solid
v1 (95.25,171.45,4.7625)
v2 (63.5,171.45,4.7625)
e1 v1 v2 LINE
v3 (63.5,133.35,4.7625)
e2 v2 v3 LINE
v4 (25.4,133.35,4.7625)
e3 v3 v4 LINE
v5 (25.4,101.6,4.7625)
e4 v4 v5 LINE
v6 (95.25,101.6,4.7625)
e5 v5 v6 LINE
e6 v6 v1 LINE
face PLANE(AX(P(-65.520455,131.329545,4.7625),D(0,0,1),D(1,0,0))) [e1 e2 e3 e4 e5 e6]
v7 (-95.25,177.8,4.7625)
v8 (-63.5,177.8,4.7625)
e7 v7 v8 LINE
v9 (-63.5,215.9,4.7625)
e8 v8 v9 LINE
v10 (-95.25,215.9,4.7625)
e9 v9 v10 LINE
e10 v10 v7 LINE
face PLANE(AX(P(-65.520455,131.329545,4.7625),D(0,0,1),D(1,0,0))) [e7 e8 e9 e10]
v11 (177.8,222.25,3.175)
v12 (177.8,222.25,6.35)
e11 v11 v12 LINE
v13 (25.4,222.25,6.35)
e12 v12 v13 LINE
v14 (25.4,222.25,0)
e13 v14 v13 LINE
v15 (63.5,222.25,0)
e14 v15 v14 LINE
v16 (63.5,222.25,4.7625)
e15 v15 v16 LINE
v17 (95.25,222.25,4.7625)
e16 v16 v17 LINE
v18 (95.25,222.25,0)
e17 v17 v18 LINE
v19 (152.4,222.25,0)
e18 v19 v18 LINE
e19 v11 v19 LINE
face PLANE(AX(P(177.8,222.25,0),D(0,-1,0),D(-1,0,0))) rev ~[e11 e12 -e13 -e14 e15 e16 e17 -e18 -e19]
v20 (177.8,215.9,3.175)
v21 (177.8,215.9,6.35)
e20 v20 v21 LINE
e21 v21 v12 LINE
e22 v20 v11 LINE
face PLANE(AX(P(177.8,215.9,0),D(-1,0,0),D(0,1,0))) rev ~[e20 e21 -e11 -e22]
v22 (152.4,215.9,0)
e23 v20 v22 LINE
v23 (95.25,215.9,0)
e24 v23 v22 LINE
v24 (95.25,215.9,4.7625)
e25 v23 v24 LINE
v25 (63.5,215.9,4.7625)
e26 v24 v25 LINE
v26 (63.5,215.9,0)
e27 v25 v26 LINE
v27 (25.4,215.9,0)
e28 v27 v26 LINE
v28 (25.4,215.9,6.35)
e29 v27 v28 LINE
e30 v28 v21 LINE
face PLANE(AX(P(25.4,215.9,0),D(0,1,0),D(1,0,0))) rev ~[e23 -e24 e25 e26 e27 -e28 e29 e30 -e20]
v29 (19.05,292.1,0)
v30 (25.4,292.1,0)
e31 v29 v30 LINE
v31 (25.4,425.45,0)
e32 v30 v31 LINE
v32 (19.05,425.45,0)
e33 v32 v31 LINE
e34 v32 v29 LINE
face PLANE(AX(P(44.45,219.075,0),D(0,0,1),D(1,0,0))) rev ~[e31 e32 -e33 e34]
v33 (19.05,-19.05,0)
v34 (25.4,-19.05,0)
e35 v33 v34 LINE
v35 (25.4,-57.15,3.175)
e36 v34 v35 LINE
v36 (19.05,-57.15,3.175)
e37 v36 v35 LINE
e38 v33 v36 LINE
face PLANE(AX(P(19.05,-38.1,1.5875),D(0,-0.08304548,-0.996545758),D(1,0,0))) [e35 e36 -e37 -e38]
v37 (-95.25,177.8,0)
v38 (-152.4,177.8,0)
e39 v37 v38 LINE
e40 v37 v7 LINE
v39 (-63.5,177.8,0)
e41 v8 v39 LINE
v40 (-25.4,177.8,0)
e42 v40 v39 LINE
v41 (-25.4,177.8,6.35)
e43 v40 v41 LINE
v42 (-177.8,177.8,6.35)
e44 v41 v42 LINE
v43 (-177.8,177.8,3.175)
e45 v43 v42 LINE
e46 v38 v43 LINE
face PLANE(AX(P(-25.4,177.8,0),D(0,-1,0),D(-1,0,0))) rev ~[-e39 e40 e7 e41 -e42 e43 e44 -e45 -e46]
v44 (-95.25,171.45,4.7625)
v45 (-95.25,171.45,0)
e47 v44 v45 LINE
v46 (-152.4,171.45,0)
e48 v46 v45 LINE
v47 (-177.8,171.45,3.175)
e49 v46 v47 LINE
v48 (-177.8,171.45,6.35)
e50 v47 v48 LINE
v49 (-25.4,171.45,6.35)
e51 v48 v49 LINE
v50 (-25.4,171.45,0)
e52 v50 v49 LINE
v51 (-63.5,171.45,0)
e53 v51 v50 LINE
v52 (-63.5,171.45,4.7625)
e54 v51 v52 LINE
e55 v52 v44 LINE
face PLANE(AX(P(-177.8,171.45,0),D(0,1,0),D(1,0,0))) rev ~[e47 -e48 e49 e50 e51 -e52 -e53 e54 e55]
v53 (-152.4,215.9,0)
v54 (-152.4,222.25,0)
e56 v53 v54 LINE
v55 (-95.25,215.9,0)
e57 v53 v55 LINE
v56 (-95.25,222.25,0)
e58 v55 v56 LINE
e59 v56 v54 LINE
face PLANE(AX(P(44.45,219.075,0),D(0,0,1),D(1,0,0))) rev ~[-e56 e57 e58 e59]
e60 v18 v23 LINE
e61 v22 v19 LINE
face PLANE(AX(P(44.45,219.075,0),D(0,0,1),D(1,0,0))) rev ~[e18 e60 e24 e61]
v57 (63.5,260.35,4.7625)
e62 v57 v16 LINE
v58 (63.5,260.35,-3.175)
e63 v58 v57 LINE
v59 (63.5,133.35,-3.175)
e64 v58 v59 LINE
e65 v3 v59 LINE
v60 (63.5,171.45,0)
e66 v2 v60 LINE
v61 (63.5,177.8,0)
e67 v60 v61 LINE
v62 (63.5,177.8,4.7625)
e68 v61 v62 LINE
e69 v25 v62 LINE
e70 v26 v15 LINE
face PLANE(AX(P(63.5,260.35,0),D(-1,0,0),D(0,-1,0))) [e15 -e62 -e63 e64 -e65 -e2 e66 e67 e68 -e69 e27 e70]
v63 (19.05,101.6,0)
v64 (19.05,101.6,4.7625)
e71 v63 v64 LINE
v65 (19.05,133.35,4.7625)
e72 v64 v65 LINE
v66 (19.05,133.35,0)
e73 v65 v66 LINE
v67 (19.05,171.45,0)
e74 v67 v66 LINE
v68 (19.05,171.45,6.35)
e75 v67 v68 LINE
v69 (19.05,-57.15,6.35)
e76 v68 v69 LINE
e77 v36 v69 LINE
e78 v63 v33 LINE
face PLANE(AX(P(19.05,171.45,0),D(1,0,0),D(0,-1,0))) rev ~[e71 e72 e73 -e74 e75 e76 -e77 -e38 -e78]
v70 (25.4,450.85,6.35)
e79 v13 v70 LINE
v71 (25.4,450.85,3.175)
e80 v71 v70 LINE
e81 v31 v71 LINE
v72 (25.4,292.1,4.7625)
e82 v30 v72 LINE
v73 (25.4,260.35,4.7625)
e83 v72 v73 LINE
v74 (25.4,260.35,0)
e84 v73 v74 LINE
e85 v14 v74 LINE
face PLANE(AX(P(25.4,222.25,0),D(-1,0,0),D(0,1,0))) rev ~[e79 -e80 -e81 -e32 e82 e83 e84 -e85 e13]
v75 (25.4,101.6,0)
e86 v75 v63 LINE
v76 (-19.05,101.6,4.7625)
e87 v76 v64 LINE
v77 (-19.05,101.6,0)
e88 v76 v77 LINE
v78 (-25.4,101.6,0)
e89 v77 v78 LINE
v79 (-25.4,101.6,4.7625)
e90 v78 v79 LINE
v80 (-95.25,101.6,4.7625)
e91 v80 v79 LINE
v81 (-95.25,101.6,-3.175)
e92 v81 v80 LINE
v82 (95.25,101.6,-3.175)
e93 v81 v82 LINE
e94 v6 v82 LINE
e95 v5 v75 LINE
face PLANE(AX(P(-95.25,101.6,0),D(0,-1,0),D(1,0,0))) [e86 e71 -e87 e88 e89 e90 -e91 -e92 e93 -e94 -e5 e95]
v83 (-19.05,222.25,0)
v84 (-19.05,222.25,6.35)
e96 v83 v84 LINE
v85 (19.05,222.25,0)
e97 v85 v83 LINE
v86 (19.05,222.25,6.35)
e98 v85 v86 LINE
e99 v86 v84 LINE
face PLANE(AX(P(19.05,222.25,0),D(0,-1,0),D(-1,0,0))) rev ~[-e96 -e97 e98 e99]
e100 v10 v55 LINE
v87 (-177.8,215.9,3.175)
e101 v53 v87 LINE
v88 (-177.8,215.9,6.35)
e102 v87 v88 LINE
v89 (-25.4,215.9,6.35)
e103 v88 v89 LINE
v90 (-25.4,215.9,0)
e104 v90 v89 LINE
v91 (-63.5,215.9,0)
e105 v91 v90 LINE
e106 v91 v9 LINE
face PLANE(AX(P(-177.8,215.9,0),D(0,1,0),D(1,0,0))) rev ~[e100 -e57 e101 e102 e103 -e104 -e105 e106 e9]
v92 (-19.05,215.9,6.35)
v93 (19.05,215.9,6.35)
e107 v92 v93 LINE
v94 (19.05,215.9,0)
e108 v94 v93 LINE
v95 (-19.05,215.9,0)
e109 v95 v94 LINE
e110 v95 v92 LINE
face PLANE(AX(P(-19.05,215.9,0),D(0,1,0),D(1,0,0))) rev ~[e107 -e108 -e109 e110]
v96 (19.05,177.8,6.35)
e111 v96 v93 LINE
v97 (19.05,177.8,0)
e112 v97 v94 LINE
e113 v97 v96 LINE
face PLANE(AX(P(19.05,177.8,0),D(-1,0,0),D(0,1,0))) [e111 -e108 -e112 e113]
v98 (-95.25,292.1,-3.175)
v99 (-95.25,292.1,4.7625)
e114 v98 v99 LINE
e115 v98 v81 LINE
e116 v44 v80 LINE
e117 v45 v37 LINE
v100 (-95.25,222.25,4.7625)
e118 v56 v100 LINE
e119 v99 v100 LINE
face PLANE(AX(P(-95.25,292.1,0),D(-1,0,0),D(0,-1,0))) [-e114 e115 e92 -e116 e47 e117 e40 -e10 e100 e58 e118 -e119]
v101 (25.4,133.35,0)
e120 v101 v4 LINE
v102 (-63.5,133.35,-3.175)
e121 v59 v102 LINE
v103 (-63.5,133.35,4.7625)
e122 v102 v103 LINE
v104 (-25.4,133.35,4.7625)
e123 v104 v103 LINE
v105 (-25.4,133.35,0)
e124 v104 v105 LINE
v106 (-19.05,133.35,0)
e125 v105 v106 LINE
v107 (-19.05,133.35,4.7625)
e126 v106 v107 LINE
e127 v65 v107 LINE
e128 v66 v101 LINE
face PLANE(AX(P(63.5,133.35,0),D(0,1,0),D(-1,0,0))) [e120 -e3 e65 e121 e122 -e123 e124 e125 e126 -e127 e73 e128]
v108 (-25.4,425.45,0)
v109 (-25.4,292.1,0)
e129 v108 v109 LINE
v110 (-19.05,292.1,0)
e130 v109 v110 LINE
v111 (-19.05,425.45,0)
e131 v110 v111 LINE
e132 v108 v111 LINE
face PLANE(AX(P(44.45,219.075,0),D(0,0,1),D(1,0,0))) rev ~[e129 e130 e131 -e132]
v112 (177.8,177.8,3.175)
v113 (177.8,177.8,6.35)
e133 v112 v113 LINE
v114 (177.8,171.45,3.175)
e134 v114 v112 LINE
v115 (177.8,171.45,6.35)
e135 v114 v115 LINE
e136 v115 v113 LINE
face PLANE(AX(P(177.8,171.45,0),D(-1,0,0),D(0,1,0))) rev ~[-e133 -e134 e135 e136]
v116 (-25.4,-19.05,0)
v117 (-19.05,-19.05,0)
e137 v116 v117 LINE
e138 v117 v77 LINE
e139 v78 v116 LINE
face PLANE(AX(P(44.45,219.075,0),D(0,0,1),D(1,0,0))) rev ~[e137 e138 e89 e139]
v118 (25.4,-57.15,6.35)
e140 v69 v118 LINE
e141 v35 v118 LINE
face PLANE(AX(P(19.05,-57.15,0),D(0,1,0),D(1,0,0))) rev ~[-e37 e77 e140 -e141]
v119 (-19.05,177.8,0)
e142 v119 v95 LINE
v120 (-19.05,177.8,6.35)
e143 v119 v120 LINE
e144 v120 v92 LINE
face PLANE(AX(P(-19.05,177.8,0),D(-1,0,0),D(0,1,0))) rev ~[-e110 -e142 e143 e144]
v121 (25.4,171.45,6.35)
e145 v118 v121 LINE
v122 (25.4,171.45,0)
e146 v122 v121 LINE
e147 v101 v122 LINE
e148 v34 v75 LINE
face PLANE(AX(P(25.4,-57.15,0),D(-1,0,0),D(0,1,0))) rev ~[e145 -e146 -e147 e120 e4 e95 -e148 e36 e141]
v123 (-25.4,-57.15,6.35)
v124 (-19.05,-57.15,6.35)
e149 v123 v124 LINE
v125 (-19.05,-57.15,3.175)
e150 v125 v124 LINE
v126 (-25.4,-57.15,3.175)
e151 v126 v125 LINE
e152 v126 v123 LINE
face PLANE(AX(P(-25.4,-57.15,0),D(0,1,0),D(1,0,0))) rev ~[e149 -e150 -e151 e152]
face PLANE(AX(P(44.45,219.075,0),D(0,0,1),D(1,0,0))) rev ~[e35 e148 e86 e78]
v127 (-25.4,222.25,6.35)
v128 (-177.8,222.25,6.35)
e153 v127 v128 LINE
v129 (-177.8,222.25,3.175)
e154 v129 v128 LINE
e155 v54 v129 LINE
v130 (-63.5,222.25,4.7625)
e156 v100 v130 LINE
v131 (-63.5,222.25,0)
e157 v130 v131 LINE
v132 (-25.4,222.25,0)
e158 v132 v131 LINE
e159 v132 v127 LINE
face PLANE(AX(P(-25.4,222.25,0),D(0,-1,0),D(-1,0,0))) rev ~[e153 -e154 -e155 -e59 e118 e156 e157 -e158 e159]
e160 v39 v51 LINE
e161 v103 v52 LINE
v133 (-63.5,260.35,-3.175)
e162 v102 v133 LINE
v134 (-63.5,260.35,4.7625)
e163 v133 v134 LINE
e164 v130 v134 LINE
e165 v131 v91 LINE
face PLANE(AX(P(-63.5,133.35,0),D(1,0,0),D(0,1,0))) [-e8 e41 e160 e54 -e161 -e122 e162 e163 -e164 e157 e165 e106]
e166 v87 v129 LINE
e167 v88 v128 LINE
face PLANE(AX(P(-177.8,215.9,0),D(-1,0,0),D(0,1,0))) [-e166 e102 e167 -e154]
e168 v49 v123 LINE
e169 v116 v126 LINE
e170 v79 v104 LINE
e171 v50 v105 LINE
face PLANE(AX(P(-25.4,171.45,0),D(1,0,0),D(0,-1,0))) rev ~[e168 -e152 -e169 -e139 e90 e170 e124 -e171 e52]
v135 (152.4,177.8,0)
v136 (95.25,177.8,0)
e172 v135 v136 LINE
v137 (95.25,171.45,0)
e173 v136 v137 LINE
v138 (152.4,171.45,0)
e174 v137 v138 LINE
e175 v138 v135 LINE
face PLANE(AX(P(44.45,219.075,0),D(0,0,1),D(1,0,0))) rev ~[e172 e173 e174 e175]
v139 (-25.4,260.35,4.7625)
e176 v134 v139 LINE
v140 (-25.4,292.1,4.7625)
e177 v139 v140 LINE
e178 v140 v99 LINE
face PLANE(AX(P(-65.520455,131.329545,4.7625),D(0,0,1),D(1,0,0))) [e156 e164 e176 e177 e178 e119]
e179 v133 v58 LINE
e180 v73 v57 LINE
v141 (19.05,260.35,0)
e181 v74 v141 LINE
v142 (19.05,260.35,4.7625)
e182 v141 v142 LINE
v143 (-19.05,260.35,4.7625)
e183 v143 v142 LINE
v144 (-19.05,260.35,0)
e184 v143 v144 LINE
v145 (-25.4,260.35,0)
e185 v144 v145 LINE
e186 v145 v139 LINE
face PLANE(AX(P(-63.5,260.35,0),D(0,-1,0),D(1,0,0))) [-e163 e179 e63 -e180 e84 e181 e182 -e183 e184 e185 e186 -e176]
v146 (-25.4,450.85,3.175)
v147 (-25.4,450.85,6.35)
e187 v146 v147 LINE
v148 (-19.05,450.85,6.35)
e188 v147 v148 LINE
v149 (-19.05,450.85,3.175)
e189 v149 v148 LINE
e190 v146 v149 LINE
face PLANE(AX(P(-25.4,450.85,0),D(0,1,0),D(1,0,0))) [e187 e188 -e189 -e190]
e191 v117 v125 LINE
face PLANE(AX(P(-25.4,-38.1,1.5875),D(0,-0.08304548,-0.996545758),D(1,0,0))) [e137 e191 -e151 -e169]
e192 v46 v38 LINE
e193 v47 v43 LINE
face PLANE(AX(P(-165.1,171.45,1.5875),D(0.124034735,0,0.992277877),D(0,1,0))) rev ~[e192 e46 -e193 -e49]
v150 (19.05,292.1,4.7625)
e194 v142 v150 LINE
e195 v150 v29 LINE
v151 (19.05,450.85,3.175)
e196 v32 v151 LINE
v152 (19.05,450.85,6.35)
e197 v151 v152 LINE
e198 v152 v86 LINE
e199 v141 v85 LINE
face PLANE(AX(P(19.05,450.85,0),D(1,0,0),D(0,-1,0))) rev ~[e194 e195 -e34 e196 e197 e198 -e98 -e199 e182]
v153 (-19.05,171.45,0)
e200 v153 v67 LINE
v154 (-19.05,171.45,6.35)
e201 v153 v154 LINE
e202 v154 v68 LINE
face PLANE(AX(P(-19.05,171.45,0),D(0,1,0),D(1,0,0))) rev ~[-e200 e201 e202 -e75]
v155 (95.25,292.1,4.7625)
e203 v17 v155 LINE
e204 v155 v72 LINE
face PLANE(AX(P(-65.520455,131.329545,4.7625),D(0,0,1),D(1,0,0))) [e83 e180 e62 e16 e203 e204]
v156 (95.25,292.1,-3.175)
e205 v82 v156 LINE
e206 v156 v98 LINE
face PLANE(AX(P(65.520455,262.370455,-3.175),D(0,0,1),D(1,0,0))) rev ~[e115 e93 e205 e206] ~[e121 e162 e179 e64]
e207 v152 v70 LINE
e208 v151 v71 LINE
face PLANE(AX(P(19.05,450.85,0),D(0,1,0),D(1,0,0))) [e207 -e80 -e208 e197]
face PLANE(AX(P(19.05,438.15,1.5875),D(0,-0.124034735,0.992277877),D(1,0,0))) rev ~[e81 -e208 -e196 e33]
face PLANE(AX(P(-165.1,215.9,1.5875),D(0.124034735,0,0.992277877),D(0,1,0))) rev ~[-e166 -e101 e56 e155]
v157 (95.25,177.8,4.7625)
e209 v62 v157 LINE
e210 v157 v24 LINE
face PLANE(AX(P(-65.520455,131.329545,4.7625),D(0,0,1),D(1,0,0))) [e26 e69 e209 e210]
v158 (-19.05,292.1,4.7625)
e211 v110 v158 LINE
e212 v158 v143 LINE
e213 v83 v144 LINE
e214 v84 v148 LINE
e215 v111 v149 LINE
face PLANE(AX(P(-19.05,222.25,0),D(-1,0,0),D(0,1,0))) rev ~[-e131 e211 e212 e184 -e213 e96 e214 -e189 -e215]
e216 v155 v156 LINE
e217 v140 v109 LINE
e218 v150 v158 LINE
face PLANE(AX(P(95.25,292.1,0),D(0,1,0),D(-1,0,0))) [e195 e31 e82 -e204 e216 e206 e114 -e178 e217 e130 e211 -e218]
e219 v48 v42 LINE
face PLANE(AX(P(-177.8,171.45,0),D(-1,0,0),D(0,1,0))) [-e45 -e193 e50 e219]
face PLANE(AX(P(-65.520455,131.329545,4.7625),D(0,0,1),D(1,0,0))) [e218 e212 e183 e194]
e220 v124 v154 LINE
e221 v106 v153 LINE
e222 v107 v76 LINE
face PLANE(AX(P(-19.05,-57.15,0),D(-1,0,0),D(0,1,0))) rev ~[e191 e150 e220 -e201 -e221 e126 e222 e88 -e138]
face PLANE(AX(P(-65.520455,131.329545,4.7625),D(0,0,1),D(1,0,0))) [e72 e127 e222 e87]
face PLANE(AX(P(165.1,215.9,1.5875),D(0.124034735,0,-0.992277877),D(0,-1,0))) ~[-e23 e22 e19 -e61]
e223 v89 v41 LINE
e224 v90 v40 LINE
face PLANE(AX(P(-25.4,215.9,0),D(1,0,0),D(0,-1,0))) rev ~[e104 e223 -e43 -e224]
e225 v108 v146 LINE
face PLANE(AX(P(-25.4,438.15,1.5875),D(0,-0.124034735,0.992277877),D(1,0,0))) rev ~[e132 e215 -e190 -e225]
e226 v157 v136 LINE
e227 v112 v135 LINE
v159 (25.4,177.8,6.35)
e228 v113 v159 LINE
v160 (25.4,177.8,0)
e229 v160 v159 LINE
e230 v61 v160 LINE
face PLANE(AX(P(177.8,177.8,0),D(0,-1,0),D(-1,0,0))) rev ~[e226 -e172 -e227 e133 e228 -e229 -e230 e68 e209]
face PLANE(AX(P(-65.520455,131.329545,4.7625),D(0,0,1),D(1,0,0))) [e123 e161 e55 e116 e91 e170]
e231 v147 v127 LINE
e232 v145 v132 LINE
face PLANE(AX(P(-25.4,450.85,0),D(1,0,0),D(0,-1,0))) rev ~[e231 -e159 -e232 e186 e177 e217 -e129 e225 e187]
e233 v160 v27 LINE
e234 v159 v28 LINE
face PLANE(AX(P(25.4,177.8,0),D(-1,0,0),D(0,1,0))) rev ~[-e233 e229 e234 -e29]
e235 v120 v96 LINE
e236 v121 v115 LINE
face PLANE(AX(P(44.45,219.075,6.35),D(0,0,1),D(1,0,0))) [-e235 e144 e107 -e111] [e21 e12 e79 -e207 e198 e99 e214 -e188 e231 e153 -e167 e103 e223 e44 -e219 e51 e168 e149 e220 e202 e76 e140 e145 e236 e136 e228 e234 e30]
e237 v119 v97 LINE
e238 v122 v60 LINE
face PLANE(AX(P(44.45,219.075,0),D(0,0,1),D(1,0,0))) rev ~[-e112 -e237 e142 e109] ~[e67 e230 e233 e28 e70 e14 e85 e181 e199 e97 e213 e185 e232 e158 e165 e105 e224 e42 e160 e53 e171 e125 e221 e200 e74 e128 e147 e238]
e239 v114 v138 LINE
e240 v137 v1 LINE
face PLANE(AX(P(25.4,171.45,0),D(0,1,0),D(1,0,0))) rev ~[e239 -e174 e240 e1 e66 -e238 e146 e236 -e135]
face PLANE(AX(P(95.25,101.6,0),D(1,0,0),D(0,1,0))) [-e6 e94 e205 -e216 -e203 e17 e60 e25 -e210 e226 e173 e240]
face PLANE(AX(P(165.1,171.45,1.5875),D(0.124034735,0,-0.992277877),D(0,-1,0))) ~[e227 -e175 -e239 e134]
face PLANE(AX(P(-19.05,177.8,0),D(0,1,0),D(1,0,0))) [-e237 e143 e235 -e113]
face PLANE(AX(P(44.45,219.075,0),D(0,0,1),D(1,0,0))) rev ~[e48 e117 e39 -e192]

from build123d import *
from OCP.BRepFilletAPI import BRepFilletAPI_MakeChamfer

# Parameters (mm, degrees)
SKETCH1_W           = 31.75
SKETCH1_H           = 38.1
SKETCH1_H_2         = 6.35
SKETCH1_W_2         = 6.35
SKETCH1_H_3         = 31.75
SKETCH1_W_3         = 38.1
BOSS_EXTRUDE1_DEPTH = 4.7625
SKETCH1_4_W         = 6.35
SKETCH1_4_H         = 31.75
SKETCH1_4_W_2       = 38.1
SKETCH1_4_W_3       = 31.75
SKETCH1_4_H_2       = 6.35
SKETCH1_4_H_3       = 38.1
BOSS_EXTRUDE2_DEPTH = 3.175
SKETCH1_5_W         = 38.1
SKETCH1_5_H         = 6.35
SKETCH1_5_W_2       = 63.5
SKETCH1_5_W_3       = 6.35
SKETCH1_5_H_2       = 38.1
SKETCH1_5_W_4       = 19.05
SKETCH1_5_H_3       = 139.7
SKETCH1_5_H_4       = 19.05
SKETCH1_5_H_5       = 158.75
SKETCH1_5_H_6       = 31.75
SKETCH1_5_W_5       = 31.75
BOSS_EXTRUDE3_DEPTH = 6.35
CHAMFER1_SIZE       = 25.4
CHAMFER1_SIZE2      = 3.175
CHAMFER2_SIZE       = 3.175
CHAMFER2_SIZE2      = 25.4
CHAMFER3_SIZE       = 38.1
CHAMFER3_SIZE2      = 3.175


with BuildPart() as part:
    # Sketch1 → Boss-Extrude1 (new body)
    with BuildSketch(Plane.XY):
        Polygon((-63.5, 171.45), (-95.25, 171.45), (-95.25, 101.6), (-25.4, 101.6), (-25.4, 133.35), (-63.5, 133.35), align=None)
        with Locations((-79.375, 196.85)):
            Rectangle(SKETCH1_W, SKETCH1_H)
        with Locations((-79.375, 174.625)):
            Rectangle(SKETCH1_W, SKETCH1_H_2)
        with Locations((-79.375, 219.075)):
            Rectangle(SKETCH1_W, SKETCH1_H_2)
        Polygon((-25.4, 260.35), (-25.4, 292.1), (-95.25, 292.1), (-95.25, 222.25), (-63.5, 222.25), (-63.5, 260.35), align=None)
        with Locations((-22.225, 276.225)):
            Rectangle(SKETCH1_W_2, SKETCH1_H_3)
        with Locations((0, 276.225)):
            Rectangle(SKETCH1_W_3, SKETCH1_H_3)
        with Locations((22.225, 276.225)):
            Rectangle(SKETCH1_W_2, SKETCH1_H_3)
        Polygon((95.25, 292.1), (25.4, 292.1), (25.4, 260.35), (63.5, 260.35), (63.5, 222.25), (95.25, 222.25), align=None)
        with Locations((79.375, 219.075)):
            Rectangle(SKETCH1_W, SKETCH1_H_2)
        with Locations((79.375, 196.85)):
            Rectangle(SKETCH1_W, SKETCH1_H)
        with Locations((79.375, 174.625)):
            Rectangle(SKETCH1_W, SKETCH1_H_2)
        Polygon((95.25, 101.6), (95.25, 171.45), (63.5, 171.45), (63.5, 133.35), (25.4, 133.35), (25.4, 101.6), align=None)
        with Locations((22.225, 117.475)):
            Rectangle(SKETCH1_W_2, SKETCH1_H_3)
        with Locations((0, 117.475)):
            Rectangle(SKETCH1_W_3, SKETCH1_H_3)
        with Locations((-22.225, 117.475)):
            Rectangle(SKETCH1_W_2, SKETCH1_H_3)
    extrude(amount=BOSS_EXTRUDE1_DEPTH)

    # Sketch1<4> → Boss-Extrude2 (add)
    with BuildSketch(Plane.XY):
        Polygon((95.25, 292.1), (25.4, 292.1), (25.4, 260.35), (63.5, 260.35), (63.5, 222.25), (95.25, 222.25), align=None)
        with Locations((22.225, 276.225)):
            Rectangle(SKETCH1_4_W, SKETCH1_4_H)
        with Locations((0, 276.225)):
            Rectangle(SKETCH1_4_W_2, SKETCH1_4_H)
        with Locations((-22.225, 276.225)):
            Rectangle(SKETCH1_4_W, SKETCH1_4_H)
        Polygon((-25.4, 260.35), (-25.4, 292.1), (-95.25, 292.1), (-95.25, 222.25), (-63.5, 222.25), (-63.5, 260.35), align=None)
        with Locations((-79.375, 219.075)):
            Rectangle(SKETCH1_4_W_3, SKETCH1_4_H_2)
        with Locations((-79.375, 196.85)):
            Rectangle(SKETCH1_4_W_3, SKETCH1_4_H_3)
        with Locations((-79.375, 174.625)):
            Rectangle(SKETCH1_4_W_3, SKETCH1_4_H_2)
        Polygon((-63.5, 171.45), (-95.25, 171.45), (-95.25, 101.6), (-25.4, 101.6), (-25.4, 133.35), (-63.5, 133.35), align=None)
        with Locations((-22.225, 117.475)):
            Rectangle(SKETCH1_4_W, SKETCH1_4_H)
        with Locations((0, 117.475)):
            Rectangle(SKETCH1_4_W_2, SKETCH1_4_H)
        Polygon((95.25, 101.6), (95.25, 171.45), (63.5, 171.45), (63.5, 133.35), (25.4, 133.35), (25.4, 101.6), align=None)
        with Locations((22.225, 117.475)):
            Rectangle(SKETCH1_4_W, SKETCH1_4_H)
        with Locations((79.375, 174.625)):
            Rectangle(SKETCH1_4_W_3, SKETCH1_4_H_2)
        with Locations((79.375, 196.85)):
            Rectangle(SKETCH1_4_W_3, SKETCH1_4_H_3)
        with Locations((79.375, 219.075)):
            Rectangle(SKETCH1_4_W_3, SKETCH1_4_H_2)
    extrude(amount=-BOSS_EXTRUDE2_DEPTH)

    # Sketch1<5> → Boss-Extrude3 (add)
    with BuildSketch(Plane.XY):
        with Locations((44.45, 219.075)):
            Rectangle(SKETCH1_5_W, SKETCH1_5_H)
        with Locations((127, 219.075)):
            Rectangle(SKETCH1_5_W_2, SKETCH1_5_H)
        with Locations((22.225, 219.075)):
            Rectangle(SKETCH1_5_W_3, SKETCH1_5_H)
        with Locations((0, 219.075)):
            Rectangle(SKETCH1_5_W, SKETCH1_5_H)
        with Locations((-22.225, 219.075)):
            Rectangle(SKETCH1_5_W_3, SKETCH1_5_H)
        with Locations((-44.45, 219.075)):
            Rectangle(SKETCH1_5_W, SKETCH1_5_H)
        with Locations((-22.225, 241.3)):
            Rectangle(SKETCH1_5_W_3, SKETCH1_5_H_2)
        with Locations((22.225, 241.3)):
            Rectangle(SKETCH1_5_W_3, SKETCH1_5_H_2)
        with Locations((22.225, 196.85)):
            Rectangle(SKETCH1_5_W_3, SKETCH1_5_H_2)
        with Locations((-22.225, 196.85)):
            Rectangle(SKETCH1_5_W_3, SKETCH1_5_H_2)
        with Locations((-22.225, 174.625)):
            Rectangle(SKETCH1_5_W_3, SKETCH1_5_H)
        with Locations((0, 174.625)):
            Rectangle(SKETCH1_5_W, SKETCH1_5_H)
        with Locations((22.225, 174.625)):
            Rectangle(SKETCH1_5_W_3, SKETCH1_5_H)
        with Locations((44.45, 174.625)):
            Rectangle(SKETCH1_5_W, SKETCH1_5_H)
        with Locations((22.225, 152.4)):
            Rectangle(SKETCH1_5_W_3, SKETCH1_5_H_2)
        with Locations((-22.225, 152.4)):
            Rectangle(SKETCH1_5_W_3, SKETCH1_5_H_2)
        with Locations((-44.45, 174.625)):
            Rectangle(SKETCH1_5_W, SKETCH1_5_H)
        with Locations((-127, 219.075)):
            Rectangle(SKETCH1_5_W_2, SKETCH1_5_H)
        with Locations((-127, 174.625)):
            Rectangle(SKETCH1_5_W_2, SKETCH1_5_H)
        with Locations((-168.275, 174.625)):
            Rectangle(SKETCH1_5_W_4, SKETCH1_5_H)
        with Locations((-168.275, 219.075)):
            Rectangle(SKETCH1_5_W_4, SKETCH1_5_H)
        with Locations((-22.225, 361.95)):
            Rectangle(SKETCH1_5_W_3, SKETCH1_5_H_3)
        with Locations((22.225, 361.95)):
            Rectangle(SKETCH1_5_W_3, SKETCH1_5_H_3)
        with Locations((22.225, 441.325)):
            Rectangle(SKETCH1_5_W_3, SKETCH1_5_H_4)
        with Locations((-22.225, 441.325)):
            Rectangle(SKETCH1_5_W_3, SKETCH1_5_H_4)
        with Locations((127, 174.625)):
            Rectangle(SKETCH1_5_W_2, SKETCH1_5_H)
        with Locations((168.275, 219.075)):
            Rectangle(SKETCH1_5_W_4, SKETCH1_5_H)
        with Locations((168.275, 174.625)):
            Rectangle(SKETCH1_5_W_4, SKETCH1_5_H)
        with Locations((22.225, 22.225)):
            Rectangle(SKETCH1_5_W_3, SKETCH1_5_H_5)
        with Locations((-22.225, 22.225)):
            Rectangle(SKETCH1_5_W_3, SKETCH1_5_H_5)
        with Locations((-22.225, 117.475)):
            Rectangle(SKETCH1_5_W_3, SKETCH1_5_H_6)
        with Locations((22.225, 117.475)):
            Rectangle(SKETCH1_5_W_3, SKETCH1_5_H_6)
        with Locations((-79.375, 174.625)):
            Rectangle(SKETCH1_5_W_5, SKETCH1_5_H)
        with Locations((-79.375, 219.075)):
            Rectangle(SKETCH1_5_W_5, SKETCH1_5_H)
        with Locations((-22.225, 276.225)):
            Rectangle(SKETCH1_5_W_3, SKETCH1_5_H_6)
        with Locations((22.225, 276.225)):
            Rectangle(SKETCH1_5_W_3, SKETCH1_5_H_6)
        with Locations((79.375, 219.075)):
            Rectangle(SKETCH1_5_W_5, SKETCH1_5_H)
        with Locations((79.375, 174.625)):
            Rectangle(SKETCH1_5_W_5, SKETCH1_5_H)
    extrude(amount=BOSS_EXTRUDE3_DEPTH)

    # Chamfer1: one chamfer whose edges measure the first distance from different faces: ONE call of the kernel's chamfer builder (chamfer() names one face for all edges)
    chamfer1_edges_1 = [part.edges().sort_by_distance(p)[0] for p in [
        (22.225, 450.85, 0),
    ]]
    chamfer1_side_1 = [part.faces().sort_by_distance(p)[0] for p in [
        (22.225, 371.475, 0),
    ]]
    chamfer1_edges_2 = [part.edges().sort_by_distance(p)[0] for p in [
        (-22.225, 450.85, 0),
    ]]
    chamfer1_side_2 = [part.faces().sort_by_distance(p)[0] for p in [
        (-22.225, 371.475, 0),
    ]]
    chamfer1_edges_3 = [part.edges().sort_by_distance(p)[0] for p in [
        (-177.8, 219.075, 0),
    ]]
    chamfer1_side_3 = [part.faces().sort_by_distance(p)[0] for p in [
        (-136.525, 219.075, 0),
    ]]
    chamfer1_edges_4 = [part.edges().sort_by_distance(p)[0] for p in [
        (-177.8, 174.625, 0),
    ]]
    chamfer1_side_4 = [part.faces().sort_by_distance(p)[0] for p in [
        (-136.525, 174.625, 0),
    ]]
    chamfer1 = BRepFilletAPI_MakeChamfer(part.part.solid().wrapped)
    for e in chamfer1_edges_1:
        chamfer1.Add(CHAMFER1_SIZE, CHAMFER1_SIZE2, e.wrapped, chamfer1_side_1[0].wrapped)  # the first distance lies on this face
    for e in chamfer1_edges_2:
        chamfer1.Add(CHAMFER1_SIZE, CHAMFER1_SIZE2, e.wrapped, chamfer1_side_2[0].wrapped)  # the first distance lies on this face
    for e in chamfer1_edges_3:
        chamfer1.Add(CHAMFER1_SIZE, CHAMFER1_SIZE2, e.wrapped, chamfer1_side_3[0].wrapped)  # the first distance lies on this face
    for e in chamfer1_edges_4:
        chamfer1.Add(CHAMFER1_SIZE, CHAMFER1_SIZE2, e.wrapped, chamfer1_side_4[0].wrapped)  # the first distance lies on this face
    add(Compound.cast(chamfer1.Shape()), mode=Mode.REPLACE)

    # Chamfer2: one chamfer whose edges measure the first distance from different faces: ONE call of the kernel's chamfer builder (chamfer() names one face for all edges)
    chamfer2_edges_1 = [part.edges().sort_by_distance(p)[0] for p in [
        (177.8, 219.075, 0),
    ]]
    chamfer2_side_1 = [part.faces().sort_by_distance(p)[0] for p in [
        (177.8, 219.075, 3.175),
    ]]
    chamfer2_edges_2 = [part.edges().sort_by_distance(p)[0] for p in [
        (177.8, 174.625, 0),
    ]]
    chamfer2_side_2 = [part.faces().sort_by_distance(p)[0] for p in [
        (177.8, 174.625, 3.175),
    ]]
    chamfer2 = BRepFilletAPI_MakeChamfer(part.part.solid().wrapped)
    for e in chamfer2_edges_1:
        chamfer2.Add(CHAMFER2_SIZE, CHAMFER2_SIZE2, e.wrapped, chamfer2_side_1[0].wrapped)  # the first distance lies on this face
    for e in chamfer2_edges_2:
        chamfer2.Add(CHAMFER2_SIZE, CHAMFER2_SIZE2, e.wrapped, chamfer2_side_2[0].wrapped)  # the first distance lies on this face
    add(Compound.cast(chamfer2.Shape()), mode=Mode.REPLACE)

    # Chamfer3: one chamfer whose edges measure the first distance from different faces: ONE call of the kernel's chamfer builder (chamfer() names one face for all edges)
    chamfer3_edges_1 = [part.edges().sort_by_distance(p)[0] for p in [
        (-22.225, -57.15, 0),
    ]]
    chamfer3_side_1 = [part.faces().sort_by_distance(p)[0] for p in [
        (-22.225, 22.225, 0),
    ]]
    chamfer3_edges_2 = [part.edges().sort_by_distance(p)[0] for p in [
        (22.225, -57.15, 0),
    ]]
    chamfer3_side_2 = [part.faces().sort_by_distance(p)[0] for p in [
        (22.225, 22.225, 0),
    ]]
    chamfer3 = BRepFilletAPI_MakeChamfer(part.part.solid().wrapped)
    for e in chamfer3_edges_1:
        chamfer3.Add(CHAMFER3_SIZE, CHAMFER3_SIZE2, e.wrapped, chamfer3_side_1[0].wrapped)  # the first distance lies on this face
    for e in chamfer3_edges_2:
        chamfer3.Add(CHAMFER3_SIZE, CHAMFER3_SIZE2, e.wrapped, chamfer3_side_2[0].wrapped)  # the first distance lies on this face
    add(Compound.cast(chamfer3.Shape()), mode=Mode.REPLACE)


solid = part.part
